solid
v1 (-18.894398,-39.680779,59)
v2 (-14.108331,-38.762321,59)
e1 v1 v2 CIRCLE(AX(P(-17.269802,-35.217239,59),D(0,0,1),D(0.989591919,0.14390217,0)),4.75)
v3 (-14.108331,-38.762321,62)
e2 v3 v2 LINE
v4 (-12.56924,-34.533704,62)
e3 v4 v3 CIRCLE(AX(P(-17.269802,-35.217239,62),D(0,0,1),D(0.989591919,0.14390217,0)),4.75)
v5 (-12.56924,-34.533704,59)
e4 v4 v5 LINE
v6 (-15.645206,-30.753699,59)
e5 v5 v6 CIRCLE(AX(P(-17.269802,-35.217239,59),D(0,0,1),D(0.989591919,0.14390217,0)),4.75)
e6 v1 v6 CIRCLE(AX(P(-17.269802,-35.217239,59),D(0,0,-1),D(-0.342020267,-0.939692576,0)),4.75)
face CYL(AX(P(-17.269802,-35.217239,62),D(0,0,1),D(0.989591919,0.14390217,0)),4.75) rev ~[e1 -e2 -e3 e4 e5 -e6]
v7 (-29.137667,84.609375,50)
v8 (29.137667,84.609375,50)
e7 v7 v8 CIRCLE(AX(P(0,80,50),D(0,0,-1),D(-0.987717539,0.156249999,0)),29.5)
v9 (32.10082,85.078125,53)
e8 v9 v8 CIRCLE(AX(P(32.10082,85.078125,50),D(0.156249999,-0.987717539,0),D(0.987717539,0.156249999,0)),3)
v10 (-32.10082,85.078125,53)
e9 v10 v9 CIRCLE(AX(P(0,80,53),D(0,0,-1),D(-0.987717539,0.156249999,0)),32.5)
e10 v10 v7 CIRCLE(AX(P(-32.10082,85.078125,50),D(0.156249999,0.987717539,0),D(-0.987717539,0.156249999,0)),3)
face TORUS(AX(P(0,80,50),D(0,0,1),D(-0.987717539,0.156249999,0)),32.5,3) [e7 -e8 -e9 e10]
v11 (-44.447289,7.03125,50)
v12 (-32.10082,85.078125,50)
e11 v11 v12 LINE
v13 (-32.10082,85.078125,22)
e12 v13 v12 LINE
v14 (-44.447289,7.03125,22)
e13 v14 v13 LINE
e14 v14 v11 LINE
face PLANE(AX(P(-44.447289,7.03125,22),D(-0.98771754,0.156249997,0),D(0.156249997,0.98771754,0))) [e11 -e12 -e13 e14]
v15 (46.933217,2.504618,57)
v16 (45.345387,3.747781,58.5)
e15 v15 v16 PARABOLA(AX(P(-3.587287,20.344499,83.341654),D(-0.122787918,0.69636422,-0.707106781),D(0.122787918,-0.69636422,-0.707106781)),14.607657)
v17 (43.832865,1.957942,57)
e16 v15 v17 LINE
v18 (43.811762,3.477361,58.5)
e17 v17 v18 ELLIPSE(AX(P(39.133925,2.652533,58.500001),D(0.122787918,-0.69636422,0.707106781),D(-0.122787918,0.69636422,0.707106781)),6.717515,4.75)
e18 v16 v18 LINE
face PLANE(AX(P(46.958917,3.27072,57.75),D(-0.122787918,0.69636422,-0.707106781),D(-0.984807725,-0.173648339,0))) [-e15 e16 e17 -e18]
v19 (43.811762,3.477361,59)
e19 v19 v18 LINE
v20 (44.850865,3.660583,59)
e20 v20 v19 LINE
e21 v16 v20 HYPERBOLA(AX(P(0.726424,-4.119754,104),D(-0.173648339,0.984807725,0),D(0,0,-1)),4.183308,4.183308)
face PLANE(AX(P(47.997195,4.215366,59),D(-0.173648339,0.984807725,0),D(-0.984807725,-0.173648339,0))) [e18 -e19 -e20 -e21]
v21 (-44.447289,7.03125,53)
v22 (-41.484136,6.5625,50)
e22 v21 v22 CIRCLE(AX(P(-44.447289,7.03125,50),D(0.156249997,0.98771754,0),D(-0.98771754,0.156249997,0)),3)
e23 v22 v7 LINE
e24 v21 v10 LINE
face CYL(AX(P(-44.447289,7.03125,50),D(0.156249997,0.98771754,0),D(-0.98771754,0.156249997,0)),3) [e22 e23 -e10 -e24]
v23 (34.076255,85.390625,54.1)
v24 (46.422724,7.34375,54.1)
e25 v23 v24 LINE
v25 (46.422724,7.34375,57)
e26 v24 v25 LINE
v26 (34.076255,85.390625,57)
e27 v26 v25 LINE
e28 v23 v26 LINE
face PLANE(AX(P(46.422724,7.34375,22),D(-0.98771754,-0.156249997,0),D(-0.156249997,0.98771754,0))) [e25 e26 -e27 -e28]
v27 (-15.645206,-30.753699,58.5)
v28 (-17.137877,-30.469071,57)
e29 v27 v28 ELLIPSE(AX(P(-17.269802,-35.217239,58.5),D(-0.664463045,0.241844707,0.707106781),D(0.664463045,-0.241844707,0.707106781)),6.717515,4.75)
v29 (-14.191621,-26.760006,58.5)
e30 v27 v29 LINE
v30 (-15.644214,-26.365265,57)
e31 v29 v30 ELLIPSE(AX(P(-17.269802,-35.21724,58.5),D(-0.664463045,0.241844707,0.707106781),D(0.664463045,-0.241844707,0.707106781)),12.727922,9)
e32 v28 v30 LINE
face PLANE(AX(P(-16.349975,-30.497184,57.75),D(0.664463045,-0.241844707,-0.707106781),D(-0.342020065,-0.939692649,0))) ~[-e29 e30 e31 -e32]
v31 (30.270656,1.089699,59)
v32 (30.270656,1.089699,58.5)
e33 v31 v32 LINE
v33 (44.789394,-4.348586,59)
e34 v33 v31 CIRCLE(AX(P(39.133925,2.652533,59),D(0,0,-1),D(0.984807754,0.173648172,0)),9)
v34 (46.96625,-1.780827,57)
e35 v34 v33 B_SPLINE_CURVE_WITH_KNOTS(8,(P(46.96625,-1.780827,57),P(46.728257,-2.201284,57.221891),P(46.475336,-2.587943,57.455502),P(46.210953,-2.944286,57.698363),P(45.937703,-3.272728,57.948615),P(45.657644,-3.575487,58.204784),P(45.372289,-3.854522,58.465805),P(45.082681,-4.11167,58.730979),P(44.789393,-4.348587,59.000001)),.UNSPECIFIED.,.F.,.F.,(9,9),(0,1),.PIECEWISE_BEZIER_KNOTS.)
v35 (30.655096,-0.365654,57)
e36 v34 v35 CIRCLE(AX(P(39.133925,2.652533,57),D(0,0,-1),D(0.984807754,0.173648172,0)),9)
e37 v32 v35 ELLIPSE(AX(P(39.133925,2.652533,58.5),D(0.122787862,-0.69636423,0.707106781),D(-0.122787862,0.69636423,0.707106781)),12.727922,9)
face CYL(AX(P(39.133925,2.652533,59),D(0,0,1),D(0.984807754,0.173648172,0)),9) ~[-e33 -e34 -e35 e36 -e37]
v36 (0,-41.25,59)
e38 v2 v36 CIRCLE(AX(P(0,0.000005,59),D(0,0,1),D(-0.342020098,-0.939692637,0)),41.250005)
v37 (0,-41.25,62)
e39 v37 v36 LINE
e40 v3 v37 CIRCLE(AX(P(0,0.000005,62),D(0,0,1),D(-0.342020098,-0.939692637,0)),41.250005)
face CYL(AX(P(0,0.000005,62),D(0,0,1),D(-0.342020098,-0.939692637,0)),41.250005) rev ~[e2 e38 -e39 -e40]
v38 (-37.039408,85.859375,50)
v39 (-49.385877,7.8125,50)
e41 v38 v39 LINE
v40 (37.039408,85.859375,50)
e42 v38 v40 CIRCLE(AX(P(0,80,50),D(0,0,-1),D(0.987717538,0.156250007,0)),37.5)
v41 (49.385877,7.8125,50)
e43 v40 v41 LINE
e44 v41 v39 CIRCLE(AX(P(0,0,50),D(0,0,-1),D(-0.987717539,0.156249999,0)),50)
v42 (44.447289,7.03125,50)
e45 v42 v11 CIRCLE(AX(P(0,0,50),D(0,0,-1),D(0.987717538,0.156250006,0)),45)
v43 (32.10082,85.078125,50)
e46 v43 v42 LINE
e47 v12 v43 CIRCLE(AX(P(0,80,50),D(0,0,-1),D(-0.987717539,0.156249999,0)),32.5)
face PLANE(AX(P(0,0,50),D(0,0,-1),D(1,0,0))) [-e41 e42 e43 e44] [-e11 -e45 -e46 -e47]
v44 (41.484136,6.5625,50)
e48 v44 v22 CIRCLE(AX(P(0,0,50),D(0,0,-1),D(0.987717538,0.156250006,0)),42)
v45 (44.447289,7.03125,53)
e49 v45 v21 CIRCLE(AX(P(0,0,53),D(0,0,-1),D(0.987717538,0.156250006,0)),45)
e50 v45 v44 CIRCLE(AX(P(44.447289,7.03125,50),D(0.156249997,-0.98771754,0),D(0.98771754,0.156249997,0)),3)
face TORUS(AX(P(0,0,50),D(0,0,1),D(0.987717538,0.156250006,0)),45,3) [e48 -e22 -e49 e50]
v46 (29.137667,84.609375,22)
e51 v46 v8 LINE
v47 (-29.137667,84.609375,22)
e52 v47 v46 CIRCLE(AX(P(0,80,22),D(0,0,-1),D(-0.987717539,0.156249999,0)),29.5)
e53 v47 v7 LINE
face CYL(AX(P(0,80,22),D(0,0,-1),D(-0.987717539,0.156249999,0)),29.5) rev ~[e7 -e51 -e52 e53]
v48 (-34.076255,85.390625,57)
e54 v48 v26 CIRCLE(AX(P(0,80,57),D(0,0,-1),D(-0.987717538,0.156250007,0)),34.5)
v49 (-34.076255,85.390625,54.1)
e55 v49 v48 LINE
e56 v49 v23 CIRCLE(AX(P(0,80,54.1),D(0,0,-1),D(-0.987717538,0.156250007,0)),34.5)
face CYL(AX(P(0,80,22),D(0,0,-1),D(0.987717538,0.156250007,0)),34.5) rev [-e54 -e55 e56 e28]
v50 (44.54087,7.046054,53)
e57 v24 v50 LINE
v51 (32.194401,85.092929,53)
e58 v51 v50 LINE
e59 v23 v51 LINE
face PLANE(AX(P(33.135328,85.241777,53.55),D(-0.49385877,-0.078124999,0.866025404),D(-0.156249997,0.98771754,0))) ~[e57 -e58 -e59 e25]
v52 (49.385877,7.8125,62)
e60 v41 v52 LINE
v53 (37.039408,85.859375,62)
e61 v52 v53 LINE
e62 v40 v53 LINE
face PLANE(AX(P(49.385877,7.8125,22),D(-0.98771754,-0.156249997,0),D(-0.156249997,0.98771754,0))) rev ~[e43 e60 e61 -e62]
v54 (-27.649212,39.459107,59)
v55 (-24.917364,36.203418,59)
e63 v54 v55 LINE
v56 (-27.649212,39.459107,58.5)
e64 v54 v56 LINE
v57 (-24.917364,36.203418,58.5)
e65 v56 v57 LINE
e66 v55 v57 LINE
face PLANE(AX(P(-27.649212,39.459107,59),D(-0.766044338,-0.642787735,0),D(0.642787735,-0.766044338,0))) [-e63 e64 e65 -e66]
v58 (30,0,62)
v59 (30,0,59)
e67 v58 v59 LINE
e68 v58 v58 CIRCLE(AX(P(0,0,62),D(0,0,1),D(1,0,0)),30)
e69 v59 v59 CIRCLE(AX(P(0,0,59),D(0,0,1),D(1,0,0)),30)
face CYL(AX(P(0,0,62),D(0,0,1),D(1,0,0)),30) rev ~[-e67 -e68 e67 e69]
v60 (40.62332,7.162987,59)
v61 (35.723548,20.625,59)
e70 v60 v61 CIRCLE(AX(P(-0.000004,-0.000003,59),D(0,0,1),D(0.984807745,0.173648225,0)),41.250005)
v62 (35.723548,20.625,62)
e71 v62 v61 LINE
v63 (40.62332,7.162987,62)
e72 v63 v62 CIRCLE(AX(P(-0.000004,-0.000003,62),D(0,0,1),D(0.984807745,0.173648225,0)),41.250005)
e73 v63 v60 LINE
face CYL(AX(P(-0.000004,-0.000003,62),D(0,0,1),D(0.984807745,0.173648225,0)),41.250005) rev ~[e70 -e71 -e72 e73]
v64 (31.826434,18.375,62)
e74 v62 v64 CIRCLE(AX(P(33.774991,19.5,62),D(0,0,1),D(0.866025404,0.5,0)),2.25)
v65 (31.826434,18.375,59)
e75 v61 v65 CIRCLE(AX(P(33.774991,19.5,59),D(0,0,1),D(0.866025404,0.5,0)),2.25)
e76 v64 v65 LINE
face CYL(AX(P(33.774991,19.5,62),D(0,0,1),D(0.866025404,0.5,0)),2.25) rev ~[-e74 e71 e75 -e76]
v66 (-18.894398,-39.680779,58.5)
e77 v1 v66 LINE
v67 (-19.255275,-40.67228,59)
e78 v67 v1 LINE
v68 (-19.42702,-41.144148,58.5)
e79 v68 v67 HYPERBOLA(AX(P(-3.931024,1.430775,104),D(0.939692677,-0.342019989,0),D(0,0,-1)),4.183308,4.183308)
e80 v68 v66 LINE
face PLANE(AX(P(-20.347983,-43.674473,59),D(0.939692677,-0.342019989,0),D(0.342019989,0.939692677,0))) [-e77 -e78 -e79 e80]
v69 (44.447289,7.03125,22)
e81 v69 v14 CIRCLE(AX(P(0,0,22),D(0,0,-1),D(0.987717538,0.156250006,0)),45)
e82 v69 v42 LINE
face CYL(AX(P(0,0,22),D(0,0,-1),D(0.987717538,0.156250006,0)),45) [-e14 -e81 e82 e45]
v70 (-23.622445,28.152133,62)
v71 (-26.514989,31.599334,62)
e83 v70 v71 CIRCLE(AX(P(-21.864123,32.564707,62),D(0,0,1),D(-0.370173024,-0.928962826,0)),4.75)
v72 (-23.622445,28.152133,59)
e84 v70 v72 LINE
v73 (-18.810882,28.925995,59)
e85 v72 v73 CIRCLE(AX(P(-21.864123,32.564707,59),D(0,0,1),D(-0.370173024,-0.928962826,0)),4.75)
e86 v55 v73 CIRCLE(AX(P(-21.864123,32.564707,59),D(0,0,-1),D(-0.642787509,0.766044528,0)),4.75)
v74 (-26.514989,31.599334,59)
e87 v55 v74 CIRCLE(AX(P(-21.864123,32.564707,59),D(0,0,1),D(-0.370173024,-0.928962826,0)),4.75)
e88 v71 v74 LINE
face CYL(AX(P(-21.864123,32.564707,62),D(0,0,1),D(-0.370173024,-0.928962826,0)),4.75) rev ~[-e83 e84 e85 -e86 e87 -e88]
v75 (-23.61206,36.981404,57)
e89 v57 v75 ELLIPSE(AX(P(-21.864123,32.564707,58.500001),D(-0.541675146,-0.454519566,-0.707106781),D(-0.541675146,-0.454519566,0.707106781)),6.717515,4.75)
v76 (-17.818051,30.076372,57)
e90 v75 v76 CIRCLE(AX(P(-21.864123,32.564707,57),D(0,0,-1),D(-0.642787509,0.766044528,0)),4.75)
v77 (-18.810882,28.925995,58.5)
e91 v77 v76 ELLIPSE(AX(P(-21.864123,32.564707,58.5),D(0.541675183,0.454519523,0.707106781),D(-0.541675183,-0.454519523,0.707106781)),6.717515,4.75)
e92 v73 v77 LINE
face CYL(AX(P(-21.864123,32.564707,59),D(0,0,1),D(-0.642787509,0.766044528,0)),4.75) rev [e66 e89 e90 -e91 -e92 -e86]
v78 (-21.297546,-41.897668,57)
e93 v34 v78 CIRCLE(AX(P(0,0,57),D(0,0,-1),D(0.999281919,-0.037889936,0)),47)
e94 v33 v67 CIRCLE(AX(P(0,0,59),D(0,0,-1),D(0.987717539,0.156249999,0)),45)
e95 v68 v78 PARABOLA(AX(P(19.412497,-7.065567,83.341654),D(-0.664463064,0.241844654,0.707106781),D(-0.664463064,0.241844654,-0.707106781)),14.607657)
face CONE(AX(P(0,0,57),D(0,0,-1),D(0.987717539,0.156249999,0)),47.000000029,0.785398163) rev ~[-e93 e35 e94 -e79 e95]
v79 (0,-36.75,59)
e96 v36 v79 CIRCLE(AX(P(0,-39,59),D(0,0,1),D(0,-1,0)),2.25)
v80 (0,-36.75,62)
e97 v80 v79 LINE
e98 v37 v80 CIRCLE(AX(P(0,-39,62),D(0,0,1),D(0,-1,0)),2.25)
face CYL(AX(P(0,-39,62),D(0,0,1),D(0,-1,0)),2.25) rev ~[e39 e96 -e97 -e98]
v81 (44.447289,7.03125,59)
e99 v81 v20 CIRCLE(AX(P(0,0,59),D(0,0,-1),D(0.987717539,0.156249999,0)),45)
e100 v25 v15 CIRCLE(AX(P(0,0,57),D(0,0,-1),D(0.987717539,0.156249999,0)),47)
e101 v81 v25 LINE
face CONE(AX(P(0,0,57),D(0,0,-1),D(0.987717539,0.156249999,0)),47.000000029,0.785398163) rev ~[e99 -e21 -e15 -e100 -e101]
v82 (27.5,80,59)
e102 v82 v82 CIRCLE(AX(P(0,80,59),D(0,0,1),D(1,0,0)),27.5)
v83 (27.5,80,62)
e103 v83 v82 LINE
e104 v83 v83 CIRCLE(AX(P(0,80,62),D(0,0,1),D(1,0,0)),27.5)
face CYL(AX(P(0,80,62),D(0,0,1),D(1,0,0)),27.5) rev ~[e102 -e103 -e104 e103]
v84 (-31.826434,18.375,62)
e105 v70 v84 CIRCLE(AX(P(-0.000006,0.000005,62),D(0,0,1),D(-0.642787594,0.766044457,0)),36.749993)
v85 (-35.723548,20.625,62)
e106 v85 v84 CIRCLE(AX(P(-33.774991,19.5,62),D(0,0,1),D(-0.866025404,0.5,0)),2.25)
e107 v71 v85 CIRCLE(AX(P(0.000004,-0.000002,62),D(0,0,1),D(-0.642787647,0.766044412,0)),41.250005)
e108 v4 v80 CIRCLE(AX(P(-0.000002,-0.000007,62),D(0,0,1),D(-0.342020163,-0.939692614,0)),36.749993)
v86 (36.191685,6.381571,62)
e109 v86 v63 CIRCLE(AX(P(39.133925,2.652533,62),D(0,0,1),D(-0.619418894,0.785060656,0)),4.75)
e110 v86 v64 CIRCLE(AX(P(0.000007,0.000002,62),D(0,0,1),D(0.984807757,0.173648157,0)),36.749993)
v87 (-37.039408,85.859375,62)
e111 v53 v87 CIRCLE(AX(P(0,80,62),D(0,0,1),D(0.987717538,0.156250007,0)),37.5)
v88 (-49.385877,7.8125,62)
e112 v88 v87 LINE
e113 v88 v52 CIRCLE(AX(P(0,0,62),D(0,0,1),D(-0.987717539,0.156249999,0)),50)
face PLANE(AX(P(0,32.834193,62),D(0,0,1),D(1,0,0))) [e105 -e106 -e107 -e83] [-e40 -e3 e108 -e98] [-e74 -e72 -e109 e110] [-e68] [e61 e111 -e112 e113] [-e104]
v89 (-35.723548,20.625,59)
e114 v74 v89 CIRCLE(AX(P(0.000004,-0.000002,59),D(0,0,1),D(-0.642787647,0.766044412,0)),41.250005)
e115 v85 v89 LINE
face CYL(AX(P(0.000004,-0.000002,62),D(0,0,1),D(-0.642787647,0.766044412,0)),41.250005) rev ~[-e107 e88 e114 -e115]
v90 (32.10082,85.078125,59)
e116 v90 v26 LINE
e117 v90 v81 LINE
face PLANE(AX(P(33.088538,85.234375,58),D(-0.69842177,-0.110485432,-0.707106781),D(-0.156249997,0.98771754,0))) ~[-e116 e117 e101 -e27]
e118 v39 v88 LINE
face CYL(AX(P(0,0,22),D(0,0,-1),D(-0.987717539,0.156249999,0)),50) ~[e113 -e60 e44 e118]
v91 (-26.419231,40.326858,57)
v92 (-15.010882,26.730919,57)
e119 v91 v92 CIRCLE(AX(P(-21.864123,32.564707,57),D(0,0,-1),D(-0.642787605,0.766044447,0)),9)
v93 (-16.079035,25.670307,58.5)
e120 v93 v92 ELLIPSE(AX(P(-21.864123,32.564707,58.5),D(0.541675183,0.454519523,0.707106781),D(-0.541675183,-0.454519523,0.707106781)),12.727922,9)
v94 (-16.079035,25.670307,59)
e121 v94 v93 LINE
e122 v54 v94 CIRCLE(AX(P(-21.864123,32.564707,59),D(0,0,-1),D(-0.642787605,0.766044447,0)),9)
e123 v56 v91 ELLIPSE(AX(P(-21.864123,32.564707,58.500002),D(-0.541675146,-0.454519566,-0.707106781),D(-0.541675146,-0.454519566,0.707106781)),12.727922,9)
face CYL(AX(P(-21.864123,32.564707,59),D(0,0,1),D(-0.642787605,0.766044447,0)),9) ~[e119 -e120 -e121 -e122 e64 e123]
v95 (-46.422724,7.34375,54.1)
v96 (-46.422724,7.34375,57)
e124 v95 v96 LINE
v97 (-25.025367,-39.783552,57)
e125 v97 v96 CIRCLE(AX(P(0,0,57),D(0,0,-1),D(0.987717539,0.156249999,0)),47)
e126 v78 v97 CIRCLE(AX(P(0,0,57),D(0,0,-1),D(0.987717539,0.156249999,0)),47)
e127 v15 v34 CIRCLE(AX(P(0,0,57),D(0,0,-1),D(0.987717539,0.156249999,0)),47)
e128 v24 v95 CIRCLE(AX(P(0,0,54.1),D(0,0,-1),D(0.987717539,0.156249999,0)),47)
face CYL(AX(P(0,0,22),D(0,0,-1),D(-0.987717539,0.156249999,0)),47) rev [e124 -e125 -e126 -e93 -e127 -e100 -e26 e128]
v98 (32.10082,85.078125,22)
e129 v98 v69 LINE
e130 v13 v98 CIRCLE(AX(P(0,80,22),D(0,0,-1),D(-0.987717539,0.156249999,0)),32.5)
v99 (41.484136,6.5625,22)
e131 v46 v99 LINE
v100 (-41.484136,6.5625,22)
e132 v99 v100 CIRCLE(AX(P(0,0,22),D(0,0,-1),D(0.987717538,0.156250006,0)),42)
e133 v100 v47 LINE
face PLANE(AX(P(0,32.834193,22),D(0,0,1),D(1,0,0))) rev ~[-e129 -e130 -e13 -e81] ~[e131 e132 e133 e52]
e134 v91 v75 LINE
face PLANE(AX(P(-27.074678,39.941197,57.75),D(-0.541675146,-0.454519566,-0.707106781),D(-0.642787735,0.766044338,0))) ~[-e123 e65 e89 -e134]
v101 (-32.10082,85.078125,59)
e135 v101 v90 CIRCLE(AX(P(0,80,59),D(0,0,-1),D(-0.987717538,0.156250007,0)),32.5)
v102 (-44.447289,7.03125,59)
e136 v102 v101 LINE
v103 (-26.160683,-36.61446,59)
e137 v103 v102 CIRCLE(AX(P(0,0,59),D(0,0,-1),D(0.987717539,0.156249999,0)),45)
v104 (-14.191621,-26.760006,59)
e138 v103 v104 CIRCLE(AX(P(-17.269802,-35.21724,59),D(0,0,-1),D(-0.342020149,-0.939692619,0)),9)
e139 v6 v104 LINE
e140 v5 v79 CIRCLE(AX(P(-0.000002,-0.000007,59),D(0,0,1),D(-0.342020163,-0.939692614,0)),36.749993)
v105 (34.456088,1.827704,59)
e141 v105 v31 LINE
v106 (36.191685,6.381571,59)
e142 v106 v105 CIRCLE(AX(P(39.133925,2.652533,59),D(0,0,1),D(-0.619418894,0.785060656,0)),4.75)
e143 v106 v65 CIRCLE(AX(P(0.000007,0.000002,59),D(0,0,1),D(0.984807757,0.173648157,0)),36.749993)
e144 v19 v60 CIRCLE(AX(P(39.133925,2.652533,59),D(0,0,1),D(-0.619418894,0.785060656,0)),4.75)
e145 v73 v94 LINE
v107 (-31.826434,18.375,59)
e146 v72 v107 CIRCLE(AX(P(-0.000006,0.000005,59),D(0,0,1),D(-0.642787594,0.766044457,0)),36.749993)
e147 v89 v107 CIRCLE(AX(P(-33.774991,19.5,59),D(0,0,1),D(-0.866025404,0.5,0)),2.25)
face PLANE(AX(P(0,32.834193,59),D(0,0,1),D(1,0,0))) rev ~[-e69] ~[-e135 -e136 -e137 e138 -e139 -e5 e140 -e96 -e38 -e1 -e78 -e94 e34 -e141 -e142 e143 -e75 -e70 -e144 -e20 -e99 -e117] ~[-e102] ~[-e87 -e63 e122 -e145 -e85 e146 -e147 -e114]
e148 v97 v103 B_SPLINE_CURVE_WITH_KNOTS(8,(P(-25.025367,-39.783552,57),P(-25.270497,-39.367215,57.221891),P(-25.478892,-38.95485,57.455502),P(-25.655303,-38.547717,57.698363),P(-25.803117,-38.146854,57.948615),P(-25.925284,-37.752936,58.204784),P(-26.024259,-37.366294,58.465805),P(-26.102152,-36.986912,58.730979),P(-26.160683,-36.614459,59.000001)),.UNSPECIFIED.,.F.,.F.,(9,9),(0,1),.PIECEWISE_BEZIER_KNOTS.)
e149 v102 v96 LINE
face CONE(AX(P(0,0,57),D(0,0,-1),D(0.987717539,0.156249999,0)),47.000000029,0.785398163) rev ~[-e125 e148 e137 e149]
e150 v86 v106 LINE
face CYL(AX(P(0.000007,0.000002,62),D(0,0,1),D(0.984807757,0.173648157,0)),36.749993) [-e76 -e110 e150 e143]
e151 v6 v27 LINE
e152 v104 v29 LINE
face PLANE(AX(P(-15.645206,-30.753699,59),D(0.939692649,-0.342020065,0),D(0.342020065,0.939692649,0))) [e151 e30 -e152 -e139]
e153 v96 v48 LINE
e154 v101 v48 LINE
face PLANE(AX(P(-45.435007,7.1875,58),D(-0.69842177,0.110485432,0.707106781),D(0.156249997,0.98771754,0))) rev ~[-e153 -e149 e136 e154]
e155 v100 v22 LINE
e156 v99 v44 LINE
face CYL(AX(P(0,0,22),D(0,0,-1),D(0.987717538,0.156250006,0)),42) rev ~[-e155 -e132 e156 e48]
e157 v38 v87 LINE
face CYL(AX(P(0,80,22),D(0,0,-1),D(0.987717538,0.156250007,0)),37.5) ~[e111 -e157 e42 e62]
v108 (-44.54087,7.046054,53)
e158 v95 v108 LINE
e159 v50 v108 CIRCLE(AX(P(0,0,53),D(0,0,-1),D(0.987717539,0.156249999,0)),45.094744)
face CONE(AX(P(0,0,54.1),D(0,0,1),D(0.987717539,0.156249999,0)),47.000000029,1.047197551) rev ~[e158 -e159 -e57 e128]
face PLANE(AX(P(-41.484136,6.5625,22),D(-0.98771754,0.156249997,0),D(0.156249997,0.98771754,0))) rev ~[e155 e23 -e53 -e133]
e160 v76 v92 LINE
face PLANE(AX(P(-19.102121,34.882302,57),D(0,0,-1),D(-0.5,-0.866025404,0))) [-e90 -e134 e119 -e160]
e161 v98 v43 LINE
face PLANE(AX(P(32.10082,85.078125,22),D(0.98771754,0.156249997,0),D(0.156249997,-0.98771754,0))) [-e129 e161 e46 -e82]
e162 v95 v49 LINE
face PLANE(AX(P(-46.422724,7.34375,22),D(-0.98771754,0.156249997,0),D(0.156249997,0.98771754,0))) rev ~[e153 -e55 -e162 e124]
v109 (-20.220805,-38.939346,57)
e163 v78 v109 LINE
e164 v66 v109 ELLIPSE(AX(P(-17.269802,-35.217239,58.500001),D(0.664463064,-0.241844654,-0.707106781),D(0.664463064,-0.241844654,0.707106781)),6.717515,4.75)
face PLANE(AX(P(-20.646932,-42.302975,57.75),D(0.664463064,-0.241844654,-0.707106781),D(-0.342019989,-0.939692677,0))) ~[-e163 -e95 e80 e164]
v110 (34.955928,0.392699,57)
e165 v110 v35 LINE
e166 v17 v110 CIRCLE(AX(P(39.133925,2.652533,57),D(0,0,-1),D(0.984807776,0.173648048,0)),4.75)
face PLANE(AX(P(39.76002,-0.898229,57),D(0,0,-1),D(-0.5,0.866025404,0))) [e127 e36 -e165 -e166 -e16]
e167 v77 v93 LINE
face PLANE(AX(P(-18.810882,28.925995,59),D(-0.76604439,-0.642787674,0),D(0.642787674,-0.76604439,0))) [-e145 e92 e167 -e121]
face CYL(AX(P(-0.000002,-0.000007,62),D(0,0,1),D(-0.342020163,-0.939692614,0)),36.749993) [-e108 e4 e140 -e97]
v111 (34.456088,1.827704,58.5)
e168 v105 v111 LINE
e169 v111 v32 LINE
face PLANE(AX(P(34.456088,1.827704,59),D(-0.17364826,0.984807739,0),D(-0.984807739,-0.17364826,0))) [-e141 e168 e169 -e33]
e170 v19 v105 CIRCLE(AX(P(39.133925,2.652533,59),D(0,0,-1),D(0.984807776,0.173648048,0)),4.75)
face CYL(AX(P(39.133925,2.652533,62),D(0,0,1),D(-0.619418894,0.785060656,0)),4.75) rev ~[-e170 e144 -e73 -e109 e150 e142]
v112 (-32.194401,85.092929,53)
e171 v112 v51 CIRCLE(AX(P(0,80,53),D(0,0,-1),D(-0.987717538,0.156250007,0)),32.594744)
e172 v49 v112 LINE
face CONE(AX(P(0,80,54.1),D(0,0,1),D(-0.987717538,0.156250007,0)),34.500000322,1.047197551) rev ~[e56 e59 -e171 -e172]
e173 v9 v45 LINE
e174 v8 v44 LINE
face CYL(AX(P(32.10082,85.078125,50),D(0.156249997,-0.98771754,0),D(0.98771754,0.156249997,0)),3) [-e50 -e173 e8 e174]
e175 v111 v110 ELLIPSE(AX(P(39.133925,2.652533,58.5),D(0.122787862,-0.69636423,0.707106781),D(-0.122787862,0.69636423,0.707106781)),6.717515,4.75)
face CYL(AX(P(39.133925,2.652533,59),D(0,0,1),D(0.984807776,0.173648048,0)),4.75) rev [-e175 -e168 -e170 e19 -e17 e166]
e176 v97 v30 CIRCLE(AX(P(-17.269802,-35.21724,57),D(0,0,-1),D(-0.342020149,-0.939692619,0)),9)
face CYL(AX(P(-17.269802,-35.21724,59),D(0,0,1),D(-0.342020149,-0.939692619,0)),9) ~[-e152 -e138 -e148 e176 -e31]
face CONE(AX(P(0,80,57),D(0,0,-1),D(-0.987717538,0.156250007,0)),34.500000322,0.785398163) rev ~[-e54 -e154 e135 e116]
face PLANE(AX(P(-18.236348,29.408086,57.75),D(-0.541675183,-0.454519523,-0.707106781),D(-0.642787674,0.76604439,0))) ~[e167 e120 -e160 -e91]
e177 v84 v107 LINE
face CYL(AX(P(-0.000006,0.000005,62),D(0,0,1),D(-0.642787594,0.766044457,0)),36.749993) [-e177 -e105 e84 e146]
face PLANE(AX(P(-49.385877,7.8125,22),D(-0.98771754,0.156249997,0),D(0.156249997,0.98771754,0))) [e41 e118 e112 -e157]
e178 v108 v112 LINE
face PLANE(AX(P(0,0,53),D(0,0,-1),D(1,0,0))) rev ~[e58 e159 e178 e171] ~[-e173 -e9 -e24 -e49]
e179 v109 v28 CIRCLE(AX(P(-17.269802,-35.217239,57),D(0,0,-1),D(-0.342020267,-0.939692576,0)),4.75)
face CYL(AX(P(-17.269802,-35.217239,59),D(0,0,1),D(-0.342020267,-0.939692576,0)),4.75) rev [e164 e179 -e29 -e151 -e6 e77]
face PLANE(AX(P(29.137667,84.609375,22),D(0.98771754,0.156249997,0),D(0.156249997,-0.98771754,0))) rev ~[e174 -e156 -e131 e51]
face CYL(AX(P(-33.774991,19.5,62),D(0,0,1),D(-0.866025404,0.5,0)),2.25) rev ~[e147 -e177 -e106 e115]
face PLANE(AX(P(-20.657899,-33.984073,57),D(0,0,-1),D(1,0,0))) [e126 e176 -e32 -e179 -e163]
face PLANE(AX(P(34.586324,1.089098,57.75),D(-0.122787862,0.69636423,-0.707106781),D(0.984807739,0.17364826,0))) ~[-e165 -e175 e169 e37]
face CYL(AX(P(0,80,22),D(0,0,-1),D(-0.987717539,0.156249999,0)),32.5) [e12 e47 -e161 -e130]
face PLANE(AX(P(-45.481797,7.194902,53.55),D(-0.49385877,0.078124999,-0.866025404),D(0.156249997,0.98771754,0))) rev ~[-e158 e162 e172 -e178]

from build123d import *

# Parameters (mm, degrees)
PAD_DEPTH             = 40
SKETCH004_R           = 150
POCKET001_DEPTH       = 28
THICKNESS_T           = -3
SKETCH003_R           = 27.5
SKETCH003_R_2         = 30
POCKET002_DEPTH       = 40.001
POCKET003_DEPTH       = 5
POLARPATTERN_COUNT    = 3
CHAMFER_ANGLE         = 60
CHAMFER_SIZE          = 1.1
CHAMFER003_SIZE       = 2
PAD004_DEPTH          = 2
POLARPATTERN002_COUNT = 3
CHAMFER004_SIZE       = 1.5


with BuildPart() as part:
    # Sketch002 → Pad (new body)
    with BuildSketch(Plane.XY.offset(22)):
        with BuildLine():
            ThreePointArc((-49.385877, 7.8125), (0, -50), (49.385877, 7.8125))
            Line((49.385877, 7.8125), (37.039408, 85.859375))
            ThreePointArc((37.039408, 85.859375), (0, 117.5), (-37.039408, 85.859375))
            Line((-49.385877, 7.8125), (-37.039408, 85.859375))
        make_face()
    extrude(amount=PAD_DEPTH)

    # Sketch004 (on Face5 of Pad) → Pocket001 (cut)
    with BuildSketch(Plane(origin=(0, 0, 22), x_dir=(1, 0, 0), z_dir=(0, 0, -1))):
        Circle(SKETCH004_R)
        with BuildLine():
            ThreePointArc((-32.10082, -85.078125), (0, -112.5), (32.10082, -85.078125))
            Line((32.10082, -85.078125), (44.447289, -7.03125))
            ThreePointArc((44.447289, -7.03125), (0, 45), (-44.447289, -7.03125))
            Line((-44.447289, -7.03125), (-32.10082, -85.078125))
        make_face(mode=Mode.SUBTRACT)
    extrude(amount=-POCKET001_DEPTH, mode=Mode.SUBTRACT)

    # Thickness
    thickness_openings = [part.faces().sort_by_distance(p)[0] for p in [
        (0, 29.917579, 22),
    ]]
    offset(amount=THICKNESS_T, openings=thickness_openings)

    # Sketch003 (on Face6 of Pad) → Pocket002 (cut, through all)
    with BuildSketch(Plane.XY.offset(62)):
        with Locations((0, 80)):
            Circle(SKETCH003_R)
        Circle(SKETCH003_R_2)
    extrude(amount=-POCKET002_DEPTH, mode=Mode.SUBTRACT)

    # Sketch005 (on Face4 of Pocket002) → Pocket003 (cut)
    with BuildSketch(Plane.XY.offset(62)):
        with BuildLine():
            ThreePointArc((0, -41.25), (2.25, -39), (0, -36.75))
            ThreePointArc((-12.56924, -34.533704), (-6.381571, -36.191685), (0, -36.75))
            ThreePointArc((-12.56924, -34.533704), (-21.733342, -33.592644), (-14.108331, -38.762321))
            ThreePointArc((-14.108331, -38.762321), (-7.162987, -40.62332), (0, -41.25))
        make_face()
    pocket003 = extrude(amount=-POCKET003_DEPTH, mode=Mode.SUBTRACT)

    # PolarPattern: Pocket003 ×3 about axis
    polarpattern_axis = Axis((0, 0, 62), (0, 0, 1))
    for i in range(1, POLARPATTERN_COUNT):
        add(pocket003.rotate(polarpattern_axis, i * 360 / POLARPATTERN_COUNT), mode=Mode.SUBTRACT)

    # Chamfer
    chamfer_edges = [part.edges().sort_by_distance(p)[0] for p in [
        (0, 114.5, 53),
    ]]
    chamfer_side = part.faces().sort_by_distance((0, 114.5, 56))[0]
    chamfer(chamfer_edges, length=CHAMFER_SIZE, angle=CHAMFER_ANGLE, reference=chamfer_side)

    # Chamfer003
    chamfer003_edges = [part.edges().sort_by_distance(p)[0] for p in [
        (0, -47, 59),
    ]]
    chamfer(chamfer003_edges, length=CHAMFER003_SIZE)

    # Sketch013 (on Face9 of Chamfer003) → Pad004 (join)
    with BuildSketch(Plane(origin=(0, 0, 59), x_dir=(1, 0, 0), z_dir=(0, 0, -1))):
        with BuildLine():
            ThreePointArc((-20.347983, 43.674473), (-25.727035, 32.139058), (-14.191621, 26.760006))
            Line((-15.645206, 30.753699), (-14.191621, 26.760006))
            ThreePointArc((-18.894398, 39.680779), (-21.733342, 33.592644), (-15.645206, 30.753699))
            Line((-20.347983, 43.674473), (-18.894398, 39.680779))
        make_face()
    pad004 = extrude(amount=PAD004_DEPTH)

    # PolarPattern002: Pad004 ×3 about axis
    polarpattern002_axis = Axis((0, 0, 59), (0, 0, -1))
    for i in range(1, POLARPATTERN002_COUNT):
        add(pad004.rotate(polarpattern002_axis, i * 360 / POLARPATTERN002_COUNT))

    # Chamfer004
    chamfer004_edges = [part.edges().sort_by_distance(p)[0] for p in [
        (-17.444958, 27.298151, 57),
        (-26.283288, 37.831262, 57),
        (-19.41828, -41.120134, 57),
        (-14.918413, -28.756853, 57),
        (45.320221, 3.743343, 57),
        (32.363372, 1.458701, 57),
    ]]
    chamfer(chamfer004_edges, length=CHAMFER004_SIZE)


solid = part.part
